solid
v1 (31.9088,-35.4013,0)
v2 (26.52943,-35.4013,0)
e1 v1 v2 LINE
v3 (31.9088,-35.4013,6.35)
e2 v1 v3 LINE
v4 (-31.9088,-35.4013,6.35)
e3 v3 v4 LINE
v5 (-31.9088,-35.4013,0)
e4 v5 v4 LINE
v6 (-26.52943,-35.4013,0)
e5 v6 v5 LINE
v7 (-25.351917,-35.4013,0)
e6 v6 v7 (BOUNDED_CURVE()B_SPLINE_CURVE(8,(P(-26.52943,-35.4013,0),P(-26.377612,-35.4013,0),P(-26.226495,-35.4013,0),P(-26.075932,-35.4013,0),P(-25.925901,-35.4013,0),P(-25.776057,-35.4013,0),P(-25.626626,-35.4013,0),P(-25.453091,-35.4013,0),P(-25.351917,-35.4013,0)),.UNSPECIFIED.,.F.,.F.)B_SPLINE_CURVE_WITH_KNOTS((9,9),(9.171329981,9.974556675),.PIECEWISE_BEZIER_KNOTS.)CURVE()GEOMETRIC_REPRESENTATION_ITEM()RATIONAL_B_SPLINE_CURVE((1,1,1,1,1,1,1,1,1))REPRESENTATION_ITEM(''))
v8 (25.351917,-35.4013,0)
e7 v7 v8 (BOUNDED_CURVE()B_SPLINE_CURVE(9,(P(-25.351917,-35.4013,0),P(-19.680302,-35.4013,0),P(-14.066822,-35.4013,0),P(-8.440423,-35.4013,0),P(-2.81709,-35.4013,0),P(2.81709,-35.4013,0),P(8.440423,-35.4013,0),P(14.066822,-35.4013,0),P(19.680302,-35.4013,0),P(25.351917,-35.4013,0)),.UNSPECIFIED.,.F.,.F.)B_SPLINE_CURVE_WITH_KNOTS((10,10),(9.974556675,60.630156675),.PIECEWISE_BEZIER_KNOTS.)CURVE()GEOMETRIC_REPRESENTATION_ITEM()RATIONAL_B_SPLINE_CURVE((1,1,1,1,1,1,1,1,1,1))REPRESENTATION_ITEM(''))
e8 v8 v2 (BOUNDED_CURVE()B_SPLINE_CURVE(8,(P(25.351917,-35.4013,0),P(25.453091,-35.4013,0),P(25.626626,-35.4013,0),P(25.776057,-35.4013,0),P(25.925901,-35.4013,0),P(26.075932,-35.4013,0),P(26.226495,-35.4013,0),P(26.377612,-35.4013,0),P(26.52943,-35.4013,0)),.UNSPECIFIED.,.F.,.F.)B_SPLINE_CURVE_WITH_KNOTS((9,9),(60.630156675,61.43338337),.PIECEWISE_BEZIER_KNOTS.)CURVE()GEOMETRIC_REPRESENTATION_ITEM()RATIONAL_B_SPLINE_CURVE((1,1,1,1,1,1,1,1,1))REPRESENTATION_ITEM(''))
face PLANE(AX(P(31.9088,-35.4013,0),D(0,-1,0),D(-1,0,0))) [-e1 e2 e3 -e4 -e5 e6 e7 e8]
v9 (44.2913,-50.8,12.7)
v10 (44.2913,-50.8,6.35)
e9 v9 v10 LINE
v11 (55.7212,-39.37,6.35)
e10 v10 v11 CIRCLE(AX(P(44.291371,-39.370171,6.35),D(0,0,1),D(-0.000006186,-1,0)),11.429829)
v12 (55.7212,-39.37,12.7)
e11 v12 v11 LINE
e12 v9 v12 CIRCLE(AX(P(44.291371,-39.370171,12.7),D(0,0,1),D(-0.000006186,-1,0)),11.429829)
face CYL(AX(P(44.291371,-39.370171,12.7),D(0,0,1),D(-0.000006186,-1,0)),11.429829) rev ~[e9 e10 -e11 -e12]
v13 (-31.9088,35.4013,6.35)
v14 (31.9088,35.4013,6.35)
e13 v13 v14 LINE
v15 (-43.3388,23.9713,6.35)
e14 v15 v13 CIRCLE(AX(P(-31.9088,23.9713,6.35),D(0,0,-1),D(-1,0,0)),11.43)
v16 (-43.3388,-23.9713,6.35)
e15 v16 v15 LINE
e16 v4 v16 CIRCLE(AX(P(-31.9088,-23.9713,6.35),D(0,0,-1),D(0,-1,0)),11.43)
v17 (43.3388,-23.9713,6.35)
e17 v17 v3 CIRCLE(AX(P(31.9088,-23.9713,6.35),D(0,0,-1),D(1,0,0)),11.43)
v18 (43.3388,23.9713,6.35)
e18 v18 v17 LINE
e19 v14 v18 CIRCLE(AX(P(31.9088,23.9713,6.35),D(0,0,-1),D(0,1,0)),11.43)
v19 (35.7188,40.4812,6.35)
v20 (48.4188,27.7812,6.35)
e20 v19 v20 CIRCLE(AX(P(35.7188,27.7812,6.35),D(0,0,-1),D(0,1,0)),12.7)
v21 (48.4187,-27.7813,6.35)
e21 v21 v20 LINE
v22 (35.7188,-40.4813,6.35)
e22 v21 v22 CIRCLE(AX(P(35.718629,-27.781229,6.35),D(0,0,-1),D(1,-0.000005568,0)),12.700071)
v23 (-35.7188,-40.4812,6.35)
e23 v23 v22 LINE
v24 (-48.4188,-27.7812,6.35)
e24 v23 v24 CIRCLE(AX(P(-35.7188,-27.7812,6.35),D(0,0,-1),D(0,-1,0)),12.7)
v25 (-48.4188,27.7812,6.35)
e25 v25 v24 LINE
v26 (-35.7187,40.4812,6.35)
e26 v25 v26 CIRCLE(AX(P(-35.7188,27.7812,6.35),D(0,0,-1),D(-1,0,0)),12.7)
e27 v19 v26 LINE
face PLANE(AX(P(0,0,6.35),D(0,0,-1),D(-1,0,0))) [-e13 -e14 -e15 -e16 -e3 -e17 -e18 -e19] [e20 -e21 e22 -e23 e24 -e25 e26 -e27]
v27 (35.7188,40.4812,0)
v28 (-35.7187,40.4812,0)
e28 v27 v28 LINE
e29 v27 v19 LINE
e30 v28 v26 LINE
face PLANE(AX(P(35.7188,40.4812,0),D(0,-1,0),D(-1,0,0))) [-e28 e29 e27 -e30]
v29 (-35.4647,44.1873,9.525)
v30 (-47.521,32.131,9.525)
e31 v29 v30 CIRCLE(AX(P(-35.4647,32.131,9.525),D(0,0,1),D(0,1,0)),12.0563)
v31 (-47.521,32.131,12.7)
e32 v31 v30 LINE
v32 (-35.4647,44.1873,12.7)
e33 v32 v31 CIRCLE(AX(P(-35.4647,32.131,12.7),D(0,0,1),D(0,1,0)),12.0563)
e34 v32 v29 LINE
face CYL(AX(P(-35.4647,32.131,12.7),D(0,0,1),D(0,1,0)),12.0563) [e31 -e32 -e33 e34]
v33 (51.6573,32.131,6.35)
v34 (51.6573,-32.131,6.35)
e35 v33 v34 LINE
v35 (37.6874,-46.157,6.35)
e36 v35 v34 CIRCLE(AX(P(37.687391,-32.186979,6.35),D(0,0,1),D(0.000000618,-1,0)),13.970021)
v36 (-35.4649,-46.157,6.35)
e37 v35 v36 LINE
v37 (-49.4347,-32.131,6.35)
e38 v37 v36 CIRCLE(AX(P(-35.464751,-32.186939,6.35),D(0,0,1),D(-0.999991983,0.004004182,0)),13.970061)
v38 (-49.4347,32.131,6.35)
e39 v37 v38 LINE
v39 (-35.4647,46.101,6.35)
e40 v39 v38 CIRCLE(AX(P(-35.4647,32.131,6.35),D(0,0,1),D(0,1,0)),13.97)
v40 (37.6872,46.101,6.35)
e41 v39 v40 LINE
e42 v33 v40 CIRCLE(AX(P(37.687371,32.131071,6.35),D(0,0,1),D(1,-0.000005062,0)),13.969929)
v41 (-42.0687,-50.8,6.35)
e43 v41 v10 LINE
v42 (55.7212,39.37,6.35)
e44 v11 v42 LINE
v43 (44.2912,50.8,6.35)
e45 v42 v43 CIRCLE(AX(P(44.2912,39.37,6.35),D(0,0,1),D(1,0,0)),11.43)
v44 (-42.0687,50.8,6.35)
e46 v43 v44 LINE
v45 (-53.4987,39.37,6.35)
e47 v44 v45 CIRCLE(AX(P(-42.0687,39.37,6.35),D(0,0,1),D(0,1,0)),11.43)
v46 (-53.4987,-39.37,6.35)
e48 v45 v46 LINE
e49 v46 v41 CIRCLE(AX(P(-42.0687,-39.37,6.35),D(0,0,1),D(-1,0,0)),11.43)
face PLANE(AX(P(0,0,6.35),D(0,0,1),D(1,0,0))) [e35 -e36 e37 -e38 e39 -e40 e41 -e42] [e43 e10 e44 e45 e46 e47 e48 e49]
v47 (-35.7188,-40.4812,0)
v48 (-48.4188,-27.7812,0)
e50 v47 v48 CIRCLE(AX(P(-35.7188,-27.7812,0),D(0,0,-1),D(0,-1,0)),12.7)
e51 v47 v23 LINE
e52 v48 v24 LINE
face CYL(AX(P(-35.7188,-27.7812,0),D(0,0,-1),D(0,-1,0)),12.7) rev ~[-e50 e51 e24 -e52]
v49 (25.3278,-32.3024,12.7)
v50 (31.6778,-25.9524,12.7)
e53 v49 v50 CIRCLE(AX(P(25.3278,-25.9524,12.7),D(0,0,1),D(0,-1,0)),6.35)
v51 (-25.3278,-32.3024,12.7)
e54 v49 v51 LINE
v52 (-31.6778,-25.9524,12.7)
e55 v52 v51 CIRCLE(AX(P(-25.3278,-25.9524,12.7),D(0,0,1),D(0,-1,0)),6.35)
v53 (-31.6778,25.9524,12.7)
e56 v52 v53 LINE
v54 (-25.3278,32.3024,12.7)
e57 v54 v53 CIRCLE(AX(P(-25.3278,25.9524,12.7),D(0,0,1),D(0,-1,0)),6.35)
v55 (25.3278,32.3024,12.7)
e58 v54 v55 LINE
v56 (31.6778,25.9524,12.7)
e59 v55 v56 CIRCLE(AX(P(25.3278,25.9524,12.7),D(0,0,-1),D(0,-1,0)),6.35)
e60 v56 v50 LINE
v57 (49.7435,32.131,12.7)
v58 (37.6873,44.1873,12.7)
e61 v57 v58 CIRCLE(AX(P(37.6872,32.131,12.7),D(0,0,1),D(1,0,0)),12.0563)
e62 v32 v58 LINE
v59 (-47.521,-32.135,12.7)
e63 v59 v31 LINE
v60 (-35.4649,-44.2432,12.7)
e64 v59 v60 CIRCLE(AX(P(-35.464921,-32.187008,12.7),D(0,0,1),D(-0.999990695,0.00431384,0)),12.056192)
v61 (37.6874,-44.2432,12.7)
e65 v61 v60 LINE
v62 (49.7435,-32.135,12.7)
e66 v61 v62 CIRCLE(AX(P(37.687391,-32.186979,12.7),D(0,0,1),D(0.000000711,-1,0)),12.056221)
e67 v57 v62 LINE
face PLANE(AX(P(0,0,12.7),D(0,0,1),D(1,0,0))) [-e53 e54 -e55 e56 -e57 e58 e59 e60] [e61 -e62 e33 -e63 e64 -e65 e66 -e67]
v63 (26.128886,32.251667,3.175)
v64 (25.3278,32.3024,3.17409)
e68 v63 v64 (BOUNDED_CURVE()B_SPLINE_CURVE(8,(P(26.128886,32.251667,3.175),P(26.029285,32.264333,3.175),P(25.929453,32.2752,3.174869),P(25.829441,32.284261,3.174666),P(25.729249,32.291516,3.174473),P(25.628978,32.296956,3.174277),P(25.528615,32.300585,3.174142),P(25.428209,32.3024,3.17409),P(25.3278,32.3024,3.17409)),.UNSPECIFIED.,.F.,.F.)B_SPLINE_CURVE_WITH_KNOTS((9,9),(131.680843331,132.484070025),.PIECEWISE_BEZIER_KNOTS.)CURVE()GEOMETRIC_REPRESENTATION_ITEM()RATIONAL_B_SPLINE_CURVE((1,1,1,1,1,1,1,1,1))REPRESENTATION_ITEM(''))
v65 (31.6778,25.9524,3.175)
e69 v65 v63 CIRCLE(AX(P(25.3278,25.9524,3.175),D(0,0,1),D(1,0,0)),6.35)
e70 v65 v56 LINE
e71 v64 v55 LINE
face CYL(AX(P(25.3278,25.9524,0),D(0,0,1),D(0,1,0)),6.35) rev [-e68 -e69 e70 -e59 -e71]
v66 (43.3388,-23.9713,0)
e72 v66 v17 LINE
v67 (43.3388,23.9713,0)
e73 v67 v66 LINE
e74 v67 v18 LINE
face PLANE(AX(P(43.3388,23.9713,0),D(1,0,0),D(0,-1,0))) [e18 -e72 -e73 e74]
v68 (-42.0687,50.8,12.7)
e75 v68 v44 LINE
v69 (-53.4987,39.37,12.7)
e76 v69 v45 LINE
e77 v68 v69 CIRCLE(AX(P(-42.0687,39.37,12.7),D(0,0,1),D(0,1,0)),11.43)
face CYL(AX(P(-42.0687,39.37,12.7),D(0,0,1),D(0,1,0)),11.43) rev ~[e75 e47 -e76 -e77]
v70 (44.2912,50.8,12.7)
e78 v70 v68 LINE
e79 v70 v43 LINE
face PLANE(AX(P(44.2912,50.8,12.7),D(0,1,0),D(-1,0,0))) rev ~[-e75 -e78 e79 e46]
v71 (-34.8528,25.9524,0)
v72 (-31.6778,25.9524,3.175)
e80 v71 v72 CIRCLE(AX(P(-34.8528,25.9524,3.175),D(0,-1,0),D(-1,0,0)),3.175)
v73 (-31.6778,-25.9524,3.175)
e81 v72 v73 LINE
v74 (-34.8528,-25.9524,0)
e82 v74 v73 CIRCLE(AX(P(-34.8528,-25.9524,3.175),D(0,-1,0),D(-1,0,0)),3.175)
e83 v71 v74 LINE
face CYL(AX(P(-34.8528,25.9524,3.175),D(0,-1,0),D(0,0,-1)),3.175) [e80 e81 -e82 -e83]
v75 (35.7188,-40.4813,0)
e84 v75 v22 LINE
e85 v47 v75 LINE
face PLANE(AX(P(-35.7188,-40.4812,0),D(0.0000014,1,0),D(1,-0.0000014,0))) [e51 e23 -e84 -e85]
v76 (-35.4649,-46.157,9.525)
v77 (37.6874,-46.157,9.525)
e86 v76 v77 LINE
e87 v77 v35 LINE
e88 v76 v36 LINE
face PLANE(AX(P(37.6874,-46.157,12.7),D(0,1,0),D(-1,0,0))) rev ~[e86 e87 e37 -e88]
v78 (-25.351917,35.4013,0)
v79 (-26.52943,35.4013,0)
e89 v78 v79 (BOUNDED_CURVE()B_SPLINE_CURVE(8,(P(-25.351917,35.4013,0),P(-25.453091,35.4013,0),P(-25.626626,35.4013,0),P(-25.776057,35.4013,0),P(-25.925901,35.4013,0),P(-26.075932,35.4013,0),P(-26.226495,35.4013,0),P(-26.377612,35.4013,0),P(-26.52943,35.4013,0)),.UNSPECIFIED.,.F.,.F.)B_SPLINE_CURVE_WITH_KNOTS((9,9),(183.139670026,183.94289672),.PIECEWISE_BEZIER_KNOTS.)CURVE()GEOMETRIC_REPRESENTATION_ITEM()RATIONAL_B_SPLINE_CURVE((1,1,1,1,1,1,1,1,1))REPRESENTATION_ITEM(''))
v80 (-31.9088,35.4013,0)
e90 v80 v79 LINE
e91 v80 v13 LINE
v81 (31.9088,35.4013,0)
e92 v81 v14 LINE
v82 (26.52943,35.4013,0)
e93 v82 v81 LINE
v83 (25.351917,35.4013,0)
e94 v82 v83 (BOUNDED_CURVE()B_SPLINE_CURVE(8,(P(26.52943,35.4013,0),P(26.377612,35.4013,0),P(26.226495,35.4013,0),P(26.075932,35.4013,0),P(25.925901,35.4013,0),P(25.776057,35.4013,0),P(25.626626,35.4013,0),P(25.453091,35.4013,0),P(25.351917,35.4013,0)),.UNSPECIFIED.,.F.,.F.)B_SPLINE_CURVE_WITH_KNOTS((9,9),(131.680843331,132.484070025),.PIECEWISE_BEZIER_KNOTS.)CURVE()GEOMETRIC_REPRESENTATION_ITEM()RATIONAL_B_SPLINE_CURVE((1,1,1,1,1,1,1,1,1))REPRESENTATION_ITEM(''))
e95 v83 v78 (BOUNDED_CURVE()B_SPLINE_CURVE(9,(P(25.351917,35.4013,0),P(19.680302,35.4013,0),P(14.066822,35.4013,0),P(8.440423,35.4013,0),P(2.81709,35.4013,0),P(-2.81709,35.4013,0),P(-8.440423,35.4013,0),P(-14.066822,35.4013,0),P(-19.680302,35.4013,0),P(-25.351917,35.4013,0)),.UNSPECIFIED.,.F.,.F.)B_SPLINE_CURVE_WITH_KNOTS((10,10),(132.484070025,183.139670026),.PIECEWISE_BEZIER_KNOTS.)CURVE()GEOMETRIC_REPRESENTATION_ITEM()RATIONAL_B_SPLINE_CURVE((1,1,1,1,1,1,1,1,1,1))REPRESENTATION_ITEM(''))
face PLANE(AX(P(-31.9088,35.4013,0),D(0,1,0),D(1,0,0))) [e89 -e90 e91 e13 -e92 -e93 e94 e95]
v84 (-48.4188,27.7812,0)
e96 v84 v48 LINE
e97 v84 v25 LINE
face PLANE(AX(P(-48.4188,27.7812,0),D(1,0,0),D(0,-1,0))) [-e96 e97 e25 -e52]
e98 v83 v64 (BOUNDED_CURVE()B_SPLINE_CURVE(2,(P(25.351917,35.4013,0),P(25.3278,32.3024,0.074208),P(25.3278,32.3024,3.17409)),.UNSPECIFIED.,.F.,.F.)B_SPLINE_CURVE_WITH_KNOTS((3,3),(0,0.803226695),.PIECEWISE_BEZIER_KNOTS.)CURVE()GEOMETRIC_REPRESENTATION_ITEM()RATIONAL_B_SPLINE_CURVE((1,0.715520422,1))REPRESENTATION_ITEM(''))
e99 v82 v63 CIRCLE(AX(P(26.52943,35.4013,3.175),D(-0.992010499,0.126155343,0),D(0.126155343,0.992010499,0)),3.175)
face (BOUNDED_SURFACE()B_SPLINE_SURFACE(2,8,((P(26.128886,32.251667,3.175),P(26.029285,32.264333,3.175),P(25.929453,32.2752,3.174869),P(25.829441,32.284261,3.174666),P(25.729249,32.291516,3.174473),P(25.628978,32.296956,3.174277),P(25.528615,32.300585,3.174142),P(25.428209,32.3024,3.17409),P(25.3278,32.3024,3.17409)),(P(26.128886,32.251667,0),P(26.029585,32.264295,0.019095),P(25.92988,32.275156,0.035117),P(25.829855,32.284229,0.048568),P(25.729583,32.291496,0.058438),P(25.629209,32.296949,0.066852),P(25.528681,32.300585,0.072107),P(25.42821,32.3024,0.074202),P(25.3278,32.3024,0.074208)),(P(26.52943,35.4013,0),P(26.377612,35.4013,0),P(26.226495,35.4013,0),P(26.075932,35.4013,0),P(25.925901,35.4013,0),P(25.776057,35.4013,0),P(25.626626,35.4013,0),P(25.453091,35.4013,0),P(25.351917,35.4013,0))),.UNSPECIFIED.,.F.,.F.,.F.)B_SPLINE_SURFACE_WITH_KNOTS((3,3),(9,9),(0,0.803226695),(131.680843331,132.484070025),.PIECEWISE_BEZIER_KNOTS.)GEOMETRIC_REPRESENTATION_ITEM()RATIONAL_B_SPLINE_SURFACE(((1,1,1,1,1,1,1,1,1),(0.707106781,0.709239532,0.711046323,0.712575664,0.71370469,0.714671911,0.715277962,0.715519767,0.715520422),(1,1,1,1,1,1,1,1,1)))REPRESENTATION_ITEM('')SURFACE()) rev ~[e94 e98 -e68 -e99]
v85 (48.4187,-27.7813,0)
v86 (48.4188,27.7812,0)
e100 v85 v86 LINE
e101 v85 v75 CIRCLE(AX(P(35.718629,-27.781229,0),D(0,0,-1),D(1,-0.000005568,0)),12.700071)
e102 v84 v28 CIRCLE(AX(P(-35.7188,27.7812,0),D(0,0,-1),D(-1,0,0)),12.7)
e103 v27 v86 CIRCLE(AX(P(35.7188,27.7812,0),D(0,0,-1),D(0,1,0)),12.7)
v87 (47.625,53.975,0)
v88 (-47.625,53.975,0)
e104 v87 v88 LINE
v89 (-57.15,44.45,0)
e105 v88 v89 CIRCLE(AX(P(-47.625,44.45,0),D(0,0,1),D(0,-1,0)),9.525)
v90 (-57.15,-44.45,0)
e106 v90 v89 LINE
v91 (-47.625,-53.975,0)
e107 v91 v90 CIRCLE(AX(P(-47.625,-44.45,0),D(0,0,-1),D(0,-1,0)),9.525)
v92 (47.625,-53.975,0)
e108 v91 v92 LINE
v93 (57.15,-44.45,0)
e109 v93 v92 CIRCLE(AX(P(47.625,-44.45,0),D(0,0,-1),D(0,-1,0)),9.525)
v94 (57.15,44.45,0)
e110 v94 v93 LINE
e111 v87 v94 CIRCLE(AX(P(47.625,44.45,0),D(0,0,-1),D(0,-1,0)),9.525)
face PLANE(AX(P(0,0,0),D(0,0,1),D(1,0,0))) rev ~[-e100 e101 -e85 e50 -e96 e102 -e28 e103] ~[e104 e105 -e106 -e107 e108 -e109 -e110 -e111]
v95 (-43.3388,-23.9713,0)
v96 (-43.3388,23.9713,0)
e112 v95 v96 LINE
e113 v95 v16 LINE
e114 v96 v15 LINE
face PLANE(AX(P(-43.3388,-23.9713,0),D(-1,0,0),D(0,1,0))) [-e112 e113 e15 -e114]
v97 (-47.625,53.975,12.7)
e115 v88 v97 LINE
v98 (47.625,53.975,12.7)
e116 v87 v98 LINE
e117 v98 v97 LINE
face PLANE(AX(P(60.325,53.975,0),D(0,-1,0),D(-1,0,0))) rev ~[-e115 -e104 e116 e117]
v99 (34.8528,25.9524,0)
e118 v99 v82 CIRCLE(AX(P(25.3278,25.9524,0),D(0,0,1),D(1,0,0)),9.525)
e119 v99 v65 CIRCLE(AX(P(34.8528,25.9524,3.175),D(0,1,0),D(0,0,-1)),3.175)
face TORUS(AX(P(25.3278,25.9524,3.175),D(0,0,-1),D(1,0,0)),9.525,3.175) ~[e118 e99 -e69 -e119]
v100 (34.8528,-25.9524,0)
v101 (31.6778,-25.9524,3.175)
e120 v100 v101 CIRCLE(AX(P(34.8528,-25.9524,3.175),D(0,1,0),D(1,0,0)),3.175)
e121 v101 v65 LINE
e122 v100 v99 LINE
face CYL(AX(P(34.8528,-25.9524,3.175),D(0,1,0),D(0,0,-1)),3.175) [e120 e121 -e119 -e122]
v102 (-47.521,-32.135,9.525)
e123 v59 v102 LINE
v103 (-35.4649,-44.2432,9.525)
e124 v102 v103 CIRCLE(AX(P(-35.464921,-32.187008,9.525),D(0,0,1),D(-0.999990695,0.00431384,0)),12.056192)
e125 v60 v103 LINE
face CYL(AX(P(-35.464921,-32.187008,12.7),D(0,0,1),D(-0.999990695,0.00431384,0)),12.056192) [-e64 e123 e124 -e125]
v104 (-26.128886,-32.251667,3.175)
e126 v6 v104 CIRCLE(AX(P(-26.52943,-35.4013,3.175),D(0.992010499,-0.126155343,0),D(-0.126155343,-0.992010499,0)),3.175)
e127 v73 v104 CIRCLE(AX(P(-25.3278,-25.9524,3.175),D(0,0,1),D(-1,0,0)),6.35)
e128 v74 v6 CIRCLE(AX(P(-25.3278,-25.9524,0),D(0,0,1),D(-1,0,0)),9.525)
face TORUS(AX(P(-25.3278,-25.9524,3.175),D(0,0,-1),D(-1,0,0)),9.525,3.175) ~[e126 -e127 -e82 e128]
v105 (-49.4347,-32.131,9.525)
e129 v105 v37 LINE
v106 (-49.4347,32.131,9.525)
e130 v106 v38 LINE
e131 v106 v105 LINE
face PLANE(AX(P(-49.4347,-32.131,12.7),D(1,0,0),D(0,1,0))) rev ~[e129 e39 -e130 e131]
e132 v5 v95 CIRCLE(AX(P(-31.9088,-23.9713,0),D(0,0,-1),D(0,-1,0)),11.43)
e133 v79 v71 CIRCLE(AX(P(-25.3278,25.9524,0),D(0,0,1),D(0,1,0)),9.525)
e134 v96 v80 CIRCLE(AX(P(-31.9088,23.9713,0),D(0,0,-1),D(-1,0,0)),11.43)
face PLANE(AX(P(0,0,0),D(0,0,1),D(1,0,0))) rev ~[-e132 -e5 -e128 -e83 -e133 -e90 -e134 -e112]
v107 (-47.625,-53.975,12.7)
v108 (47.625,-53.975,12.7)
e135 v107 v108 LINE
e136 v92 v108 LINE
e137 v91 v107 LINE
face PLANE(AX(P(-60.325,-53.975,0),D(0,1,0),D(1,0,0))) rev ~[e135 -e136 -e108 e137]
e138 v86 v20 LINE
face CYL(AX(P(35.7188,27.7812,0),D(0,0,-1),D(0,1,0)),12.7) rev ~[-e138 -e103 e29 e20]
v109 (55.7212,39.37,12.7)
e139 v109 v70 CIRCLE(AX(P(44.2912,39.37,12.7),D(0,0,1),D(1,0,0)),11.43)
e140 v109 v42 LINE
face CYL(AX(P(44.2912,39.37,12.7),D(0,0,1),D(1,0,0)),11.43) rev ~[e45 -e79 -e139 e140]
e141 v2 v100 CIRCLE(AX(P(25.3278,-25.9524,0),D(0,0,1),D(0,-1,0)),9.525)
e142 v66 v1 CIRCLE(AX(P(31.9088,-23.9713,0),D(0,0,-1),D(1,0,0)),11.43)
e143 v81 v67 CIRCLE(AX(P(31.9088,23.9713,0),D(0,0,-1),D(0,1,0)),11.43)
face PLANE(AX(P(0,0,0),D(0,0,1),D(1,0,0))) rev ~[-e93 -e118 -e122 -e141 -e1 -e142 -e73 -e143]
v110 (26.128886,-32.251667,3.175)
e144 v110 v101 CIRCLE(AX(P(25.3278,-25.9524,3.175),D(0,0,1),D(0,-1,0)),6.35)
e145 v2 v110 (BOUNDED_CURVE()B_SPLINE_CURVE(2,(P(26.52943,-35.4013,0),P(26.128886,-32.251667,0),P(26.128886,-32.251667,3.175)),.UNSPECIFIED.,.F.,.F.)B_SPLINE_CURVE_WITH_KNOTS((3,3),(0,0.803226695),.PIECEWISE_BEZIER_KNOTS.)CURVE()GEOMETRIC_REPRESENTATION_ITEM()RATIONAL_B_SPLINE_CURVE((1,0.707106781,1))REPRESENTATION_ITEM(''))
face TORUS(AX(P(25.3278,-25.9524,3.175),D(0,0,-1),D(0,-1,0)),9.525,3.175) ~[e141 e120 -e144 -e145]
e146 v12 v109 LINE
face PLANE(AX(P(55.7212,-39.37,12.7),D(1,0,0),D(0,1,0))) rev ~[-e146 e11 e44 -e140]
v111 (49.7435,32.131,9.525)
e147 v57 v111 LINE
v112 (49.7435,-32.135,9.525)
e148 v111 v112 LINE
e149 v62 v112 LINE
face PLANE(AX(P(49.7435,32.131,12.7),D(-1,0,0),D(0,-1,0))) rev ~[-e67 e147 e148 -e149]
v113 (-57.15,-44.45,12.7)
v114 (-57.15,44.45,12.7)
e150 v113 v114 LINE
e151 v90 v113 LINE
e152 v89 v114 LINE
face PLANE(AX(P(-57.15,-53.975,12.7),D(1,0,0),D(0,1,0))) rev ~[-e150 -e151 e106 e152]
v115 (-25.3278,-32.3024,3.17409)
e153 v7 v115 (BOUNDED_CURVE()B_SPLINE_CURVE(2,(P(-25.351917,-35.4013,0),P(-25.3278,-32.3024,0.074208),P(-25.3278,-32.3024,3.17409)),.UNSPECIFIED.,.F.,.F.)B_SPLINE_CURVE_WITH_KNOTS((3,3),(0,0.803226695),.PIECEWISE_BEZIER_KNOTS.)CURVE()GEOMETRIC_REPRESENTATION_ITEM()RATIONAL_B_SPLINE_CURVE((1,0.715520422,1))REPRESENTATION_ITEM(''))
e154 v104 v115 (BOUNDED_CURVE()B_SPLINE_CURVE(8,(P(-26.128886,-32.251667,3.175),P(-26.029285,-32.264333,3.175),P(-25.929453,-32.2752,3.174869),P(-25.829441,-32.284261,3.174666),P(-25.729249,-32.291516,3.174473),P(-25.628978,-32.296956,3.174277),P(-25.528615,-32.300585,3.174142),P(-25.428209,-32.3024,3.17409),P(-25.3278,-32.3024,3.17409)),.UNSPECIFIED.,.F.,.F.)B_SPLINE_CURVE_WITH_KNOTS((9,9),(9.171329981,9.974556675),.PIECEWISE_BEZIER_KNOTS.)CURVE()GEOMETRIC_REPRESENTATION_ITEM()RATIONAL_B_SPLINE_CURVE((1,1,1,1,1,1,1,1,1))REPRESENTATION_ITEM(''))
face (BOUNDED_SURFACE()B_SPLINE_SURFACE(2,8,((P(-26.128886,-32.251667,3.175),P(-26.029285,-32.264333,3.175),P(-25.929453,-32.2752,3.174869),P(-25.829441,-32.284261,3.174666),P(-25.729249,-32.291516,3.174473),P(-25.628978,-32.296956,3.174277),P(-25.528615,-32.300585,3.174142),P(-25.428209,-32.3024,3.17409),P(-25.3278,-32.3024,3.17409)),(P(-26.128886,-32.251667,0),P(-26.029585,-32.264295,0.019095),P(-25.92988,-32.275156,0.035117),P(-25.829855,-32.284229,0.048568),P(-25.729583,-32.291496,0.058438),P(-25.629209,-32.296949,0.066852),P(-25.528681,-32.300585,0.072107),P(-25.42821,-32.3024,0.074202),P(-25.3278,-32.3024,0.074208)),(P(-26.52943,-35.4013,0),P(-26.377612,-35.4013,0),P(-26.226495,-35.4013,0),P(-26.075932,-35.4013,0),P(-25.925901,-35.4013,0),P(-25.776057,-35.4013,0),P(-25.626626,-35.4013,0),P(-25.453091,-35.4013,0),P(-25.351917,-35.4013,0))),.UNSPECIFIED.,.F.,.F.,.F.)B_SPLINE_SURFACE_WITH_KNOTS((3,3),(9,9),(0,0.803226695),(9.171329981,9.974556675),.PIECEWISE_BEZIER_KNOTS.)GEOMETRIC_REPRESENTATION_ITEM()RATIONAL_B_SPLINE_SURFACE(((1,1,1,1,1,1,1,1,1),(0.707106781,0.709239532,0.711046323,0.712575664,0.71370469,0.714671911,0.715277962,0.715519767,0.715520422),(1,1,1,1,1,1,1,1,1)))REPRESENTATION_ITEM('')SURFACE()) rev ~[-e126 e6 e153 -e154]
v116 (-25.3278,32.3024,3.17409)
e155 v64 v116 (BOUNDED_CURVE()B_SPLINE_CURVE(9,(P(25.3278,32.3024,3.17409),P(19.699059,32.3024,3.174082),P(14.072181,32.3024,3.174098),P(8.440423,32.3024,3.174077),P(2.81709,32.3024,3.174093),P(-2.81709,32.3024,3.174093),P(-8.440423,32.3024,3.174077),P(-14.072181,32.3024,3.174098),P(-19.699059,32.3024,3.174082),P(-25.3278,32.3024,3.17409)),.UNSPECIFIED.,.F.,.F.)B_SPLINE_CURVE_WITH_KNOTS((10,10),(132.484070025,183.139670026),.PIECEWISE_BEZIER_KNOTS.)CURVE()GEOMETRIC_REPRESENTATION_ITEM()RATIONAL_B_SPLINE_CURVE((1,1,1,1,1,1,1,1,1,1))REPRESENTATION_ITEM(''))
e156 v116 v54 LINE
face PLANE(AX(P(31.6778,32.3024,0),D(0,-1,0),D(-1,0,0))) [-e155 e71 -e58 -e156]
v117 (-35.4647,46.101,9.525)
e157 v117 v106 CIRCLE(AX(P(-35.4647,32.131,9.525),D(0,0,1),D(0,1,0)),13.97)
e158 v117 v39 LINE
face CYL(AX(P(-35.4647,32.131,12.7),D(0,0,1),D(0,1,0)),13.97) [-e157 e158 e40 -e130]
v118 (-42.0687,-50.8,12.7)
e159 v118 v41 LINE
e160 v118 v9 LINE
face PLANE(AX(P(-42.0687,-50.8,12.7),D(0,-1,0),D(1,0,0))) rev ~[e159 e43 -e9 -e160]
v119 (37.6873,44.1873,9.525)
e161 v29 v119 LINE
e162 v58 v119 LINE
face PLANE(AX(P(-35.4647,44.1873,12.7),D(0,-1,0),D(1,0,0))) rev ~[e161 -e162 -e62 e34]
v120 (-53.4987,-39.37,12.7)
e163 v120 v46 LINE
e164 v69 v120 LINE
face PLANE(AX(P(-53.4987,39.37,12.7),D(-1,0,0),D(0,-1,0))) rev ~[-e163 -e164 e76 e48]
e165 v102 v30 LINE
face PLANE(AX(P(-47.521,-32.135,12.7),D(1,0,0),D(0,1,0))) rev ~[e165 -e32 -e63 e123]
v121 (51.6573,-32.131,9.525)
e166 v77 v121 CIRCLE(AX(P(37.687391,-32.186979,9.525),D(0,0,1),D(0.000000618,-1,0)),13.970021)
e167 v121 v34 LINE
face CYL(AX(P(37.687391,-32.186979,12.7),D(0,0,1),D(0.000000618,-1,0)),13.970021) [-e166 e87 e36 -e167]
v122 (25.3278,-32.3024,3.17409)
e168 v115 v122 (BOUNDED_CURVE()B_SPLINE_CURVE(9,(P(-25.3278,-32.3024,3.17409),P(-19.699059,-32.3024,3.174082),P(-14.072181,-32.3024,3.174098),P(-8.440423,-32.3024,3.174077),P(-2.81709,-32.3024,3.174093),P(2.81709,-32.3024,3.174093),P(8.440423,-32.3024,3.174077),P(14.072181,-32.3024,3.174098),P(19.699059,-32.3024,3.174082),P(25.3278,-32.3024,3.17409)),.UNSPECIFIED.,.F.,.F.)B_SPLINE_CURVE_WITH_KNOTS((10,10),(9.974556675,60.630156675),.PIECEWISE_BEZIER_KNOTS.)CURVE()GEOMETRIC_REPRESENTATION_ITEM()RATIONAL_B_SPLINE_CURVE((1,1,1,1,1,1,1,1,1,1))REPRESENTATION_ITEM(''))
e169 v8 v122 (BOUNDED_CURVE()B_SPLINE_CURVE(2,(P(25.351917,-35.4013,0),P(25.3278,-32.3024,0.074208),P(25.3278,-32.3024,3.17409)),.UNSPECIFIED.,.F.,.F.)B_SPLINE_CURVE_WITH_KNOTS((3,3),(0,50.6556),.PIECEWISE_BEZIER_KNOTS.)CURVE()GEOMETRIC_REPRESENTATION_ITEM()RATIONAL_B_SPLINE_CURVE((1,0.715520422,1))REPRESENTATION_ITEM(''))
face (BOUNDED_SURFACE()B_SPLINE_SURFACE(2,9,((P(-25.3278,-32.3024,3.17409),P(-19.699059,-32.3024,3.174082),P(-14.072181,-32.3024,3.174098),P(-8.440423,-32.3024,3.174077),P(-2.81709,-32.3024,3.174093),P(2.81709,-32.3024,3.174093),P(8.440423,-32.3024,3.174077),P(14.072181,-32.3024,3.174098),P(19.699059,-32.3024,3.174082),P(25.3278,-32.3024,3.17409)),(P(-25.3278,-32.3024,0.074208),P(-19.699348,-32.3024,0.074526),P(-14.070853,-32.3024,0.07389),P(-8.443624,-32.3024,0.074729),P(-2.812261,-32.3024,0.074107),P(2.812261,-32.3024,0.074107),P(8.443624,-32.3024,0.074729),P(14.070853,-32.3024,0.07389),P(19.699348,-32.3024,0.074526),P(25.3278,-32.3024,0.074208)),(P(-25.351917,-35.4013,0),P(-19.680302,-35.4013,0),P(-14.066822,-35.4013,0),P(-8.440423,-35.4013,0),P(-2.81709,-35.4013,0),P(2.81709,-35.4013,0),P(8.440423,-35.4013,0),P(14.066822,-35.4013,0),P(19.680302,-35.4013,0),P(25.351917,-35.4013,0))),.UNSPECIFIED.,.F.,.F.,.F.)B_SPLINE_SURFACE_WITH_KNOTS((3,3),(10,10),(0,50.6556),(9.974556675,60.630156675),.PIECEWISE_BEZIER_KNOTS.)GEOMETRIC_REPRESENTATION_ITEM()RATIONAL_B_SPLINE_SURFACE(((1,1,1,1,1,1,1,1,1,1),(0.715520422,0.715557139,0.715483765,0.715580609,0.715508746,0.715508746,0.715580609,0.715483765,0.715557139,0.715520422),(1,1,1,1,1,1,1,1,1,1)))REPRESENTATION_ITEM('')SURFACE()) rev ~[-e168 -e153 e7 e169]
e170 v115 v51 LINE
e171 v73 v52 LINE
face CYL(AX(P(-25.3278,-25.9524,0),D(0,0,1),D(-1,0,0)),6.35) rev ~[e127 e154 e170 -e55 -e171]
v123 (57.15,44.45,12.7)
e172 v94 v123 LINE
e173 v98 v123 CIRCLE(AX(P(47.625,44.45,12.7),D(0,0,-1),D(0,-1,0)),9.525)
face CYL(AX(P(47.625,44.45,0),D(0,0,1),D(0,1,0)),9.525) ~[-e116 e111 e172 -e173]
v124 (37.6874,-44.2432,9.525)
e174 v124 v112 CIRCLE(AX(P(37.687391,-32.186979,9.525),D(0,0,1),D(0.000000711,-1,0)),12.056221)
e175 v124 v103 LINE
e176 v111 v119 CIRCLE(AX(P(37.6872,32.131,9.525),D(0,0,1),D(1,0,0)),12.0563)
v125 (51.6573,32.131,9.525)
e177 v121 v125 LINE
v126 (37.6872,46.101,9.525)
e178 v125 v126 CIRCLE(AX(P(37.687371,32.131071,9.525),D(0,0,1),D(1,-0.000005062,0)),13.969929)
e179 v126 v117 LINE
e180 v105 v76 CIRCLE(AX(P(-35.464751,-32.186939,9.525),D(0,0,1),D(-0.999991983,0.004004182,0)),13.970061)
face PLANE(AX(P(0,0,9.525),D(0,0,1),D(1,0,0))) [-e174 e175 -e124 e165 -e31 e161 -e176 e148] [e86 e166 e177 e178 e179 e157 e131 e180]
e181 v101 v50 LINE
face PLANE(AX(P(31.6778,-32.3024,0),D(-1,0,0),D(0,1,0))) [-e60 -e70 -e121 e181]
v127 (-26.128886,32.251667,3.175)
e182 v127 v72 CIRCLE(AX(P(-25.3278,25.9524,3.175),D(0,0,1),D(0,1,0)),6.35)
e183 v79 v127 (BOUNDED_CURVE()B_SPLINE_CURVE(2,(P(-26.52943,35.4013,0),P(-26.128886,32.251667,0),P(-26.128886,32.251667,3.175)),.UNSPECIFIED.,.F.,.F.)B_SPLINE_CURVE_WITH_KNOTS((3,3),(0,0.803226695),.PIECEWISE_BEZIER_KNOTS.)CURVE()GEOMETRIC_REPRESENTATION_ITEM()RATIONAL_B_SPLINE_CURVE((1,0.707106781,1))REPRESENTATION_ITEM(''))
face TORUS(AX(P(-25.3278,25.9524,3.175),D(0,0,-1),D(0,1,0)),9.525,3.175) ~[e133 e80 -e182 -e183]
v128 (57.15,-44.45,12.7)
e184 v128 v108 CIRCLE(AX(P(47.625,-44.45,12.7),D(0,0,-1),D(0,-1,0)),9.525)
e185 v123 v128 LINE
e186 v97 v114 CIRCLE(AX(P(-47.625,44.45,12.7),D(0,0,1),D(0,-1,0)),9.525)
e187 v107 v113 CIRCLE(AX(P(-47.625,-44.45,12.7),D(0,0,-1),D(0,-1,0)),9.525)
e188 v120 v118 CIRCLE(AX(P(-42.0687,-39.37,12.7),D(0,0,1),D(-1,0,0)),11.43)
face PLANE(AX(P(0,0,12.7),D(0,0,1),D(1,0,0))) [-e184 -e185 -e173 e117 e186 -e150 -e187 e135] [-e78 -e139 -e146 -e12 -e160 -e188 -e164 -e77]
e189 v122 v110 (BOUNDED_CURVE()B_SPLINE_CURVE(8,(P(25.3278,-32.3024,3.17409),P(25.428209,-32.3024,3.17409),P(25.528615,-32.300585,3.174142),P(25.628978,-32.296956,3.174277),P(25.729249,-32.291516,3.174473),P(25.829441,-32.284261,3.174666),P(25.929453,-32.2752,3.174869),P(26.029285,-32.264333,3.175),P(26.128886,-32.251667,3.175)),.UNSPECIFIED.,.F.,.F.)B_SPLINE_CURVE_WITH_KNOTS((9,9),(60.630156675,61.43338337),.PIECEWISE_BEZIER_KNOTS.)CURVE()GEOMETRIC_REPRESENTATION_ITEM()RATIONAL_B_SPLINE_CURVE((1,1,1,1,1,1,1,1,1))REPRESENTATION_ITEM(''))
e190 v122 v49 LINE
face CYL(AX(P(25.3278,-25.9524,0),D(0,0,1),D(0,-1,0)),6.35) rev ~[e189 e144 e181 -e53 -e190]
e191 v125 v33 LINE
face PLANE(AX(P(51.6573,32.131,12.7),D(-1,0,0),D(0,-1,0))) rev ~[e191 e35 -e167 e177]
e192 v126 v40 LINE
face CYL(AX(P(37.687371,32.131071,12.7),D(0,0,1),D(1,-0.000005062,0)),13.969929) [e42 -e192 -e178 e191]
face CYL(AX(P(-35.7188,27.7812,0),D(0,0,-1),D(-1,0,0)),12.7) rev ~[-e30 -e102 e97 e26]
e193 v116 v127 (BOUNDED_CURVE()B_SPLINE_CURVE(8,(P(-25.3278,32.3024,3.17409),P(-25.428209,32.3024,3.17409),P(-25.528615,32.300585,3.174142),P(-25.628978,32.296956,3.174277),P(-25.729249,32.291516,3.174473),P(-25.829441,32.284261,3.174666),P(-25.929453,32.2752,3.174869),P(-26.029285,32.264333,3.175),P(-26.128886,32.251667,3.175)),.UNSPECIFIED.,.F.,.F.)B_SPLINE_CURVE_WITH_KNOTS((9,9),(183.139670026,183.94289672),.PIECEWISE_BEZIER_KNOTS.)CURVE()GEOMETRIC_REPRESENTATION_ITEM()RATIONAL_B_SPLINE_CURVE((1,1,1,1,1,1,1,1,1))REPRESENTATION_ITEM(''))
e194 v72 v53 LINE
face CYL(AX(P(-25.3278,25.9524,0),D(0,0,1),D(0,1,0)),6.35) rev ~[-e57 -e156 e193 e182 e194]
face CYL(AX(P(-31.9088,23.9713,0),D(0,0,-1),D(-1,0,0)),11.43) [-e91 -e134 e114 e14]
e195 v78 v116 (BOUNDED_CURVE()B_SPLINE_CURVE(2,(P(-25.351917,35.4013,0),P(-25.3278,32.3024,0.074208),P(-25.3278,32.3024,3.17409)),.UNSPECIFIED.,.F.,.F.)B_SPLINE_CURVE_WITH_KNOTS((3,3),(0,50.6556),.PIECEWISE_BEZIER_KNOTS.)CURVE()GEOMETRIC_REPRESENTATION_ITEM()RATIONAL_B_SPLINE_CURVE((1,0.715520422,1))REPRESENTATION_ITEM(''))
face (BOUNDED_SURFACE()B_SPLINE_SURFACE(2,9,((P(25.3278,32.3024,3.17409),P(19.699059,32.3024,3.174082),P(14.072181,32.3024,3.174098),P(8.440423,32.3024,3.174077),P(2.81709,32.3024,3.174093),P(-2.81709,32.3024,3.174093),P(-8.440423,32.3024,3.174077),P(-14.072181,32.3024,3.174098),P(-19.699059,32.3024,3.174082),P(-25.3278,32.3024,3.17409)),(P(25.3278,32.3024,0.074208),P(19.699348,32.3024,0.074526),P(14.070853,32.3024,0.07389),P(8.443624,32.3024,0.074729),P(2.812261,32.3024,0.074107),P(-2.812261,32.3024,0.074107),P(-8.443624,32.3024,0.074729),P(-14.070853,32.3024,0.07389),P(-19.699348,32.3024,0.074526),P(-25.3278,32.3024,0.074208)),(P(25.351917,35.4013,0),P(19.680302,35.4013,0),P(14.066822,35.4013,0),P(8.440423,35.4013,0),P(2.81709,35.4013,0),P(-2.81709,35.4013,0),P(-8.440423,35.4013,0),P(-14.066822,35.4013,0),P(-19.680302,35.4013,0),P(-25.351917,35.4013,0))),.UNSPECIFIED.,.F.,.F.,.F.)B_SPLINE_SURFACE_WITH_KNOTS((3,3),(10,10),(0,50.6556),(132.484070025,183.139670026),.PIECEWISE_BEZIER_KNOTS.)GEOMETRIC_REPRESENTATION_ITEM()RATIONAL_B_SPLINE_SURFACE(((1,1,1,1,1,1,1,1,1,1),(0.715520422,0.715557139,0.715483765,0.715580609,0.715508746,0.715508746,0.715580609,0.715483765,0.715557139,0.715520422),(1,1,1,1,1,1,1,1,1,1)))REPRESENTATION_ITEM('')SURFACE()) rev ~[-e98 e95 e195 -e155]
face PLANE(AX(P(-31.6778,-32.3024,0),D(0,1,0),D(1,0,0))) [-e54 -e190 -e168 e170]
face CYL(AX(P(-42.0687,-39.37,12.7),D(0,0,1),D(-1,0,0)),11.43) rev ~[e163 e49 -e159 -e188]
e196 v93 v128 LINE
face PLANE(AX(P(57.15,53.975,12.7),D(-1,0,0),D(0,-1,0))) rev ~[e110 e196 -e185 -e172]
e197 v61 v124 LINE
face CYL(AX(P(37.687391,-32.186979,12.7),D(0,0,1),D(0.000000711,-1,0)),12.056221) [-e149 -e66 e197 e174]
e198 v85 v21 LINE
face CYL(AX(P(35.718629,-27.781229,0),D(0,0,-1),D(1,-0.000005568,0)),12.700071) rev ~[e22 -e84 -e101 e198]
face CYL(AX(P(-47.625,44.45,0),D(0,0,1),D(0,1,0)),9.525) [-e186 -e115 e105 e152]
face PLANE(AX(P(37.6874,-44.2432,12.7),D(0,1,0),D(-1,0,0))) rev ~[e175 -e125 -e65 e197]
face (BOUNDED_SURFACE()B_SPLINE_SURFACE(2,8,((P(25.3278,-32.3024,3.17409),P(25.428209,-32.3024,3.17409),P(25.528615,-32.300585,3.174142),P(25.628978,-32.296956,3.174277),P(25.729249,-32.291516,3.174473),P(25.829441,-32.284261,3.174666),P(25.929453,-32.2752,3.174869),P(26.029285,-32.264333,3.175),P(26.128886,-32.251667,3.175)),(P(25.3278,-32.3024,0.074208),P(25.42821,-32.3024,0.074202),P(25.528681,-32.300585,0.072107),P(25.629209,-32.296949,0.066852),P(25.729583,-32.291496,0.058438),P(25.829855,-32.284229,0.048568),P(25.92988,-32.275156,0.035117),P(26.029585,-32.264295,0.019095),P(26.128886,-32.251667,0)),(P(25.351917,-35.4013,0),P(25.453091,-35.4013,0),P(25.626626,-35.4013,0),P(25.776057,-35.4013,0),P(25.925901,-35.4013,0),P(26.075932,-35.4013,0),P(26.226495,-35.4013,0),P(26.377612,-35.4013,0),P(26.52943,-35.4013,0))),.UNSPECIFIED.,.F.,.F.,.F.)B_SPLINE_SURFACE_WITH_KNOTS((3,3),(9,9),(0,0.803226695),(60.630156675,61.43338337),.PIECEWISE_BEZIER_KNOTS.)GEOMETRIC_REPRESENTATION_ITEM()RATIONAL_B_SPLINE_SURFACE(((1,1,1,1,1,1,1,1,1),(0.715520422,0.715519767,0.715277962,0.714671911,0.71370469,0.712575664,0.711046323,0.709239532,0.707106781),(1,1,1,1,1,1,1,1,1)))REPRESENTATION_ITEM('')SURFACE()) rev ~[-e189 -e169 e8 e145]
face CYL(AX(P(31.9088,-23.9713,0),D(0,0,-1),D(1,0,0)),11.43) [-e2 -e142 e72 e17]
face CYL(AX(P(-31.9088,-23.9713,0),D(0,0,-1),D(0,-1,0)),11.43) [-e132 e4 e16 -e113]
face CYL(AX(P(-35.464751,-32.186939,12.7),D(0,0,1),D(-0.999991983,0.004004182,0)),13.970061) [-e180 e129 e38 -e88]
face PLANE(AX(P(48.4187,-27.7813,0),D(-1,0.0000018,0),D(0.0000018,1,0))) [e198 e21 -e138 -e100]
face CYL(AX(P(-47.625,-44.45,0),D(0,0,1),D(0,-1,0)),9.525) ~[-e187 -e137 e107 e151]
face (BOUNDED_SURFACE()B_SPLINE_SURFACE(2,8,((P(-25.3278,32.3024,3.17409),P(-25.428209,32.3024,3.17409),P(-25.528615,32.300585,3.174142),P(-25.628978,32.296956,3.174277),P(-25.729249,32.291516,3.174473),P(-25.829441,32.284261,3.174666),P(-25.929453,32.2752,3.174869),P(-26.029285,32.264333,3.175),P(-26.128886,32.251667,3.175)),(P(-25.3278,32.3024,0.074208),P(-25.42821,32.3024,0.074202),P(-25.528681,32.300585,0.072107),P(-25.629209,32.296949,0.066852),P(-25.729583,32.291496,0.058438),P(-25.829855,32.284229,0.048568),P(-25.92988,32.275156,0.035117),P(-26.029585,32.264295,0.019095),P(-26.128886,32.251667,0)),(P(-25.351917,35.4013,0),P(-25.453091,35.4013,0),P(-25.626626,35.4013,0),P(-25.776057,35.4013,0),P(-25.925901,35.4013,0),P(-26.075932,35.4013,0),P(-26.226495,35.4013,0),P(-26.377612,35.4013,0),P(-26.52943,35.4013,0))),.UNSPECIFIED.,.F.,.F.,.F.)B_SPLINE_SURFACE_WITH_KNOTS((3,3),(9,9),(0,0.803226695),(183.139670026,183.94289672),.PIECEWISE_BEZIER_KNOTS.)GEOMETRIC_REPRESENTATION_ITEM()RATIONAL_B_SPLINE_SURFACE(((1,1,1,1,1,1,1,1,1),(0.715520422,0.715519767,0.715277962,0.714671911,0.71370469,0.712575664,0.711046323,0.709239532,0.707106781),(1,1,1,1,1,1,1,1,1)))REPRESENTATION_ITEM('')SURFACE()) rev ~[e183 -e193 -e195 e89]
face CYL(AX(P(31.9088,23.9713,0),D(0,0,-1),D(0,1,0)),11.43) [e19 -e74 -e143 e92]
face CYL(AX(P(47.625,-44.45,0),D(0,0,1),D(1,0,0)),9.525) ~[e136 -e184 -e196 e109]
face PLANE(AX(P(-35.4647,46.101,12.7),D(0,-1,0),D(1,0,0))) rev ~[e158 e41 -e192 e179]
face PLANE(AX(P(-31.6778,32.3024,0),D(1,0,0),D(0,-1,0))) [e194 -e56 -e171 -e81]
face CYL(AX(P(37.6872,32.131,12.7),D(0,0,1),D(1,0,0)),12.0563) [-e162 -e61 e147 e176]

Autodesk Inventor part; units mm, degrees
ref_plane "YZ Plane" through (0, 0, 0) normal (1, 0, 0) x (0, 1, 0)
ref_plane "XZ Plane" through (0, 0, 0) normal (0, 1, 0) x (-1, 0, 0)
ref_plane "XY Plane" through (0, 0, 0) normal (0, 0, 1) x (1, 0, 0)
sketch "Sketch1" plane through (0, 0, 0) normal (0, 0, 1) x (1, 0, 0)
  line L0 (-60.325, -53.975) -> (60.325, -53.975)
  line L1 (60.325, -53.975) -> (60.325, 53.975)
  line L2 (60.325, 53.975) -> (-60.325, 53.975)
  line L3 (-60.325, 53.975) -> (-60.325, -53.975)
  line L4 (-60.325, -53.975) -> (60.325, 53.975) construction
  line L5 (60.325, -53.975) -> (-60.325, 53.975) construction
  point P0 (0, 0)
  dimension "d0" = 120.65
  dimension "d1" = 107.95
extrude "Polycarbonate Plate" add sketch "Sketch1" along normal blind 12.7
sketch "Sketch2" plane through (0, 0, 12.7) normal (0, 0, 1) x (1, 0, 0)
  line L0 (-42.0687, -50.8) -> (44.2913, -50.8)
  line L1 (55.7212, -39.37) -> (55.7212, 39.37)
  line L2 (44.2912, 50.8) -> (-42.0687, 50.8)
  line L3 (-53.4987, 39.37) -> (-53.4987, -39.37)
  line L4 (-53.4987, -50.8) -> (55.7212, 50.8) construction
  line L5 (55.7212, -50.8) -> (-53.4987, 50.8) construction
  line L6 (-35.4647, 46.101) -> (37.6872, 46.101)
  line L7 (51.6573, 32.131) -> (51.6573, -32.131)
  line L8 (37.6874, -46.157) -> (-35.4649, -46.157)
  line L9 (-49.4347, -32.131) -> (-49.4347, 32.131)
  arc A0 (-51.9112, 50.8) -> (-53.4987, 49.2125) centre (-51.9112, 49.2125) ccw
  arc A1 (-35.4647, 46.101) -> (-49.4347, 32.131) centre (-35.4647, 32.131) ccw
  arc A2 (51.6573, 32.131) -> (37.6872, 46.101) centre (37.6872, 32.131) ccw
  arc A3 (37.6874, -46.157) -> (51.6573, -32.131) centre (37.6874, -32.187) ccw
  arc A4 (-49.4347, -32.131) -> (-35.4649, -46.157) centre (-35.4649, -32.187) ccw
  arc A5 (-42.0687, 50.8) -> (-53.4987, 39.37) centre (-42.0687, 39.37) ccw
  arc A6 (55.7212, 39.37) -> (44.2912, 50.8) centre (44.2912, 39.37) ccw
  arc A7 (44.2913, -50.8) -> (55.7212, -39.37) centre (44.2913, -39.37) ccw
  arc A8 (-53.4987, -39.37) -> (-42.0687, -50.8) centre (-42.0687, -39.37) ccw
  point P0 (1.1113, 0)
  dimension "d4" = 109.22
  dimension "d5" = 101.6
  dimension "d6" = 4.699
  dimension "d10" = 13.97
  dimension "d11" = 11.43
  dimension "d26" = 4.064
  dimension "d28" = 4.064
extrude "Lid Recess" cut sketch "Sketch2" against normal blind 6.35
sketch "Sketch3" plane through (0, 0, 0) normal (0, 0, -1) x (-1, 0, 0)
  line L0 (35.7188, -40.4812) -> (-35.7188, -40.4813)
  line L1 (-48.4187, -27.7813) -> (-48.4188, 27.7812)
  line L2 (-35.7188, 40.4812) -> (35.7187, 40.4812)
  line L3 (48.4188, 27.7812) -> (48.4188, -27.7812)
  line L4 (48.4188, -40.4812) -> (-48.4188, 40.4812) construction
  line L5 (-48.4188, -40.4813) -> (48.4188, 40.4813) construction
  line L6 (-43.3388, 23.9713) -> (-43.3388, -23.9713)
  line L7 (-31.9088, -35.4013) -> (31.9088, -35.4013)
  line L8 (43.3388, -23.9713) -> (43.3388, 23.9713)
  line L9 (31.9088, 35.4013) -> (-31.9088, 35.4013)
  arc A0 (-43.3388, -23.9713) -> (-31.9088, -35.4013) centre (-31.9088, -23.9713) ccw
  arc A1 (31.9088, -35.4013) -> (43.3388, -23.9713) centre (31.9088, -23.9713) ccw
  arc A2 (43.3388, 23.9713) -> (31.9088, 35.4013) centre (31.9088, 23.9713) ccw
  arc A3 (-31.9088, 35.4013) -> (-43.3388, 23.9713) centre (-31.9088, 23.9713) ccw
  arc A4 (-35.7188, 40.4812) -> (-48.4188, 27.7812) centre (-35.7188, 27.7812) ccw
  arc A5 (-48.4187, -27.7813) -> (-35.7188, -40.4813) centre (-35.7188, -27.7813) ccw
  arc A6 (35.7188, -40.4812) -> (48.4188, -27.7812) centre (35.7188, -27.7812) ccw
  arc A7 (48.4188, 27.7812) -> (35.7187, 40.4812) centre (35.7188, 27.7812) ccw
  point P0 (0, 0)
  dimension "d14" = 96.8375
  dimension "d15" = 80.9625
  dimension "d16" = 5.08
  dimension "d17" = 11.43
  dimension "d18" = 12.7
fillet "Fillet1" radius 3.175 4 edges at (-60.325, 53.975, 6.35) (-60.325, -53.975, 6.35) (60.325, 53.975, 6.35) (60.325, -53.975, 6.35)
extrude "Small Recess" cut sketch "Sketch3" against normal blind 6.35
sketch "Sketch4" plane through (0, 0, 0) normal (0, 0, -1) x (-1, 0, 0)
  line L0 (-31.6778, 32.3024) -> (31.6778, 32.3024)
  line L1 (31.6778, 32.3024) -> (31.6778, -32.3024)
  line L2 (31.6778, -32.3024) -> (-31.6778, -32.3024)
  line L3 (-31.6778, -32.3024) -> (-31.6778, 32.3024)
  line L4 (-31.6778, 32.3024) -> (31.6778, -32.3024) construction
  line L5 (31.6778, 32.3024) -> (-31.6778, -32.3024) construction
  point P0 (0, 0)
extrude "Inside Dimension" cut sketch "Sketch4" against normal through all
fillet "Fillet2" radius 6.35 4 edges at (-31.6778, 32.3024, 6.35) (31.6778, -32.3024, 6.35) (31.6778, 32.3024, 6.35) (-31.6778, -32.3024, 6.35)
fillet "Fillet3" radius 3.175 8 edges at (-29.8179, -30.4425, 0) (0, -32.3024, 0) (29.8179, -30.4425, 0) (31.6778, 0, 0) (29.8179, 30.4425, 0) (0, 32.3024, 0) (-29.8179, 30.4425, 0) (-31.6778, 0, 0)
sketch "Sketch5" plane through (0, 0, 12.7) normal (0, 0, 1) x (1, 0, 0)
  arc A0 (57.15, -53.975) -> (60.325, -50.8) centre (57.15, -50.8) ccw
  line L0 (60.325, -50.8) -> (60.325, 50.8)
  arc A1 (60.325, 50.8) -> (57.15, 53.975) centre (57.15, 50.8) ccw
  arc A2 (-57.15, 53.975) -> (-60.325, 50.8) centre (-57.15, 50.8) ccw
  line L1 (-60.325, 50.8) -> (-60.325, -50.8)
  arc A3 (-60.325, -50.8) -> (-57.15, -53.975) centre (-57.15, -50.8) ccw
  line L2 (57.15, 53.975) -> (57.15, -53.975)
  line L3 (-57.15, -53.975) -> (-57.15, 53.975)
extrude "Extrusion5" cut sketch "Sketch5" against normal through all
fillet "Fillet4" radius 9.525 4 edges at (-57.15, 53.975, 6.35) (57.15, 53.975, 6.35) (57.15, -53.975, 6.35) (-57.15, -53.975, 6.35)
sketch "Sketch6" plane through (0, 0, 12.7) normal (0, 0, 1) x (1, 0, 0)
  arc A0 (-49.4347, -32.131) -> (-35.4649, -46.157) centre (-35.4649, -32.187) ccw
  line L0 (-35.4649, -46.157) -> (37.6874, -46.157)
  arc A1 (37.6874, -46.157) -> (51.6573, -32.131) centre (37.6874, -32.187) ccw
  line L1 (51.6573, -32.131) -> (51.6573, 32.131)
  arc A2 (51.6573, 32.131) -> (37.6872, 46.101) centre (37.6872, 32.131) ccw
  line L2 (37.6872, 46.101) -> (-35.4647, 46.101)
  arc A3 (-35.4647, 46.101) -> (-49.4347, 32.131) centre (-35.4647, 32.131) ccw
  line L3 (-49.4347, 32.131) -> (-49.4347, -32.131)
  arc A4 (-35.4647, 44.1873) -> (-47.521, 32.131) centre (-35.4647, 32.131) ccw
  line L4 (-35.4647, 44.1873) -> (37.6873, 44.1873)
  arc A5 (49.7435, 32.131) -> (37.6873, 44.1873) centre (37.6872, 32.131) ccw
  line L5 (49.7435, 32.131) -> (49.7435, -32.135)
  arc A6 (37.6874, -44.2432) -> (49.7435, -32.135) centre (37.6874, -32.187) ccw
  line L6 (37.6874, -44.2432) -> (-35.4649, -44.2432)
  arc A7 (-47.521, -32.135) -> (-35.4649, -44.2432) centre (-35.4649, -32.187) ccw
  line L7 (-47.521, -32.135) -> (-47.521, 32.131)
extrude "Extrusion6" cut sketch "Sketch6" against normal blind 3.175
equation "\"d28\" = d26"
properties material "POLYCARBONATE, CLEAR"
